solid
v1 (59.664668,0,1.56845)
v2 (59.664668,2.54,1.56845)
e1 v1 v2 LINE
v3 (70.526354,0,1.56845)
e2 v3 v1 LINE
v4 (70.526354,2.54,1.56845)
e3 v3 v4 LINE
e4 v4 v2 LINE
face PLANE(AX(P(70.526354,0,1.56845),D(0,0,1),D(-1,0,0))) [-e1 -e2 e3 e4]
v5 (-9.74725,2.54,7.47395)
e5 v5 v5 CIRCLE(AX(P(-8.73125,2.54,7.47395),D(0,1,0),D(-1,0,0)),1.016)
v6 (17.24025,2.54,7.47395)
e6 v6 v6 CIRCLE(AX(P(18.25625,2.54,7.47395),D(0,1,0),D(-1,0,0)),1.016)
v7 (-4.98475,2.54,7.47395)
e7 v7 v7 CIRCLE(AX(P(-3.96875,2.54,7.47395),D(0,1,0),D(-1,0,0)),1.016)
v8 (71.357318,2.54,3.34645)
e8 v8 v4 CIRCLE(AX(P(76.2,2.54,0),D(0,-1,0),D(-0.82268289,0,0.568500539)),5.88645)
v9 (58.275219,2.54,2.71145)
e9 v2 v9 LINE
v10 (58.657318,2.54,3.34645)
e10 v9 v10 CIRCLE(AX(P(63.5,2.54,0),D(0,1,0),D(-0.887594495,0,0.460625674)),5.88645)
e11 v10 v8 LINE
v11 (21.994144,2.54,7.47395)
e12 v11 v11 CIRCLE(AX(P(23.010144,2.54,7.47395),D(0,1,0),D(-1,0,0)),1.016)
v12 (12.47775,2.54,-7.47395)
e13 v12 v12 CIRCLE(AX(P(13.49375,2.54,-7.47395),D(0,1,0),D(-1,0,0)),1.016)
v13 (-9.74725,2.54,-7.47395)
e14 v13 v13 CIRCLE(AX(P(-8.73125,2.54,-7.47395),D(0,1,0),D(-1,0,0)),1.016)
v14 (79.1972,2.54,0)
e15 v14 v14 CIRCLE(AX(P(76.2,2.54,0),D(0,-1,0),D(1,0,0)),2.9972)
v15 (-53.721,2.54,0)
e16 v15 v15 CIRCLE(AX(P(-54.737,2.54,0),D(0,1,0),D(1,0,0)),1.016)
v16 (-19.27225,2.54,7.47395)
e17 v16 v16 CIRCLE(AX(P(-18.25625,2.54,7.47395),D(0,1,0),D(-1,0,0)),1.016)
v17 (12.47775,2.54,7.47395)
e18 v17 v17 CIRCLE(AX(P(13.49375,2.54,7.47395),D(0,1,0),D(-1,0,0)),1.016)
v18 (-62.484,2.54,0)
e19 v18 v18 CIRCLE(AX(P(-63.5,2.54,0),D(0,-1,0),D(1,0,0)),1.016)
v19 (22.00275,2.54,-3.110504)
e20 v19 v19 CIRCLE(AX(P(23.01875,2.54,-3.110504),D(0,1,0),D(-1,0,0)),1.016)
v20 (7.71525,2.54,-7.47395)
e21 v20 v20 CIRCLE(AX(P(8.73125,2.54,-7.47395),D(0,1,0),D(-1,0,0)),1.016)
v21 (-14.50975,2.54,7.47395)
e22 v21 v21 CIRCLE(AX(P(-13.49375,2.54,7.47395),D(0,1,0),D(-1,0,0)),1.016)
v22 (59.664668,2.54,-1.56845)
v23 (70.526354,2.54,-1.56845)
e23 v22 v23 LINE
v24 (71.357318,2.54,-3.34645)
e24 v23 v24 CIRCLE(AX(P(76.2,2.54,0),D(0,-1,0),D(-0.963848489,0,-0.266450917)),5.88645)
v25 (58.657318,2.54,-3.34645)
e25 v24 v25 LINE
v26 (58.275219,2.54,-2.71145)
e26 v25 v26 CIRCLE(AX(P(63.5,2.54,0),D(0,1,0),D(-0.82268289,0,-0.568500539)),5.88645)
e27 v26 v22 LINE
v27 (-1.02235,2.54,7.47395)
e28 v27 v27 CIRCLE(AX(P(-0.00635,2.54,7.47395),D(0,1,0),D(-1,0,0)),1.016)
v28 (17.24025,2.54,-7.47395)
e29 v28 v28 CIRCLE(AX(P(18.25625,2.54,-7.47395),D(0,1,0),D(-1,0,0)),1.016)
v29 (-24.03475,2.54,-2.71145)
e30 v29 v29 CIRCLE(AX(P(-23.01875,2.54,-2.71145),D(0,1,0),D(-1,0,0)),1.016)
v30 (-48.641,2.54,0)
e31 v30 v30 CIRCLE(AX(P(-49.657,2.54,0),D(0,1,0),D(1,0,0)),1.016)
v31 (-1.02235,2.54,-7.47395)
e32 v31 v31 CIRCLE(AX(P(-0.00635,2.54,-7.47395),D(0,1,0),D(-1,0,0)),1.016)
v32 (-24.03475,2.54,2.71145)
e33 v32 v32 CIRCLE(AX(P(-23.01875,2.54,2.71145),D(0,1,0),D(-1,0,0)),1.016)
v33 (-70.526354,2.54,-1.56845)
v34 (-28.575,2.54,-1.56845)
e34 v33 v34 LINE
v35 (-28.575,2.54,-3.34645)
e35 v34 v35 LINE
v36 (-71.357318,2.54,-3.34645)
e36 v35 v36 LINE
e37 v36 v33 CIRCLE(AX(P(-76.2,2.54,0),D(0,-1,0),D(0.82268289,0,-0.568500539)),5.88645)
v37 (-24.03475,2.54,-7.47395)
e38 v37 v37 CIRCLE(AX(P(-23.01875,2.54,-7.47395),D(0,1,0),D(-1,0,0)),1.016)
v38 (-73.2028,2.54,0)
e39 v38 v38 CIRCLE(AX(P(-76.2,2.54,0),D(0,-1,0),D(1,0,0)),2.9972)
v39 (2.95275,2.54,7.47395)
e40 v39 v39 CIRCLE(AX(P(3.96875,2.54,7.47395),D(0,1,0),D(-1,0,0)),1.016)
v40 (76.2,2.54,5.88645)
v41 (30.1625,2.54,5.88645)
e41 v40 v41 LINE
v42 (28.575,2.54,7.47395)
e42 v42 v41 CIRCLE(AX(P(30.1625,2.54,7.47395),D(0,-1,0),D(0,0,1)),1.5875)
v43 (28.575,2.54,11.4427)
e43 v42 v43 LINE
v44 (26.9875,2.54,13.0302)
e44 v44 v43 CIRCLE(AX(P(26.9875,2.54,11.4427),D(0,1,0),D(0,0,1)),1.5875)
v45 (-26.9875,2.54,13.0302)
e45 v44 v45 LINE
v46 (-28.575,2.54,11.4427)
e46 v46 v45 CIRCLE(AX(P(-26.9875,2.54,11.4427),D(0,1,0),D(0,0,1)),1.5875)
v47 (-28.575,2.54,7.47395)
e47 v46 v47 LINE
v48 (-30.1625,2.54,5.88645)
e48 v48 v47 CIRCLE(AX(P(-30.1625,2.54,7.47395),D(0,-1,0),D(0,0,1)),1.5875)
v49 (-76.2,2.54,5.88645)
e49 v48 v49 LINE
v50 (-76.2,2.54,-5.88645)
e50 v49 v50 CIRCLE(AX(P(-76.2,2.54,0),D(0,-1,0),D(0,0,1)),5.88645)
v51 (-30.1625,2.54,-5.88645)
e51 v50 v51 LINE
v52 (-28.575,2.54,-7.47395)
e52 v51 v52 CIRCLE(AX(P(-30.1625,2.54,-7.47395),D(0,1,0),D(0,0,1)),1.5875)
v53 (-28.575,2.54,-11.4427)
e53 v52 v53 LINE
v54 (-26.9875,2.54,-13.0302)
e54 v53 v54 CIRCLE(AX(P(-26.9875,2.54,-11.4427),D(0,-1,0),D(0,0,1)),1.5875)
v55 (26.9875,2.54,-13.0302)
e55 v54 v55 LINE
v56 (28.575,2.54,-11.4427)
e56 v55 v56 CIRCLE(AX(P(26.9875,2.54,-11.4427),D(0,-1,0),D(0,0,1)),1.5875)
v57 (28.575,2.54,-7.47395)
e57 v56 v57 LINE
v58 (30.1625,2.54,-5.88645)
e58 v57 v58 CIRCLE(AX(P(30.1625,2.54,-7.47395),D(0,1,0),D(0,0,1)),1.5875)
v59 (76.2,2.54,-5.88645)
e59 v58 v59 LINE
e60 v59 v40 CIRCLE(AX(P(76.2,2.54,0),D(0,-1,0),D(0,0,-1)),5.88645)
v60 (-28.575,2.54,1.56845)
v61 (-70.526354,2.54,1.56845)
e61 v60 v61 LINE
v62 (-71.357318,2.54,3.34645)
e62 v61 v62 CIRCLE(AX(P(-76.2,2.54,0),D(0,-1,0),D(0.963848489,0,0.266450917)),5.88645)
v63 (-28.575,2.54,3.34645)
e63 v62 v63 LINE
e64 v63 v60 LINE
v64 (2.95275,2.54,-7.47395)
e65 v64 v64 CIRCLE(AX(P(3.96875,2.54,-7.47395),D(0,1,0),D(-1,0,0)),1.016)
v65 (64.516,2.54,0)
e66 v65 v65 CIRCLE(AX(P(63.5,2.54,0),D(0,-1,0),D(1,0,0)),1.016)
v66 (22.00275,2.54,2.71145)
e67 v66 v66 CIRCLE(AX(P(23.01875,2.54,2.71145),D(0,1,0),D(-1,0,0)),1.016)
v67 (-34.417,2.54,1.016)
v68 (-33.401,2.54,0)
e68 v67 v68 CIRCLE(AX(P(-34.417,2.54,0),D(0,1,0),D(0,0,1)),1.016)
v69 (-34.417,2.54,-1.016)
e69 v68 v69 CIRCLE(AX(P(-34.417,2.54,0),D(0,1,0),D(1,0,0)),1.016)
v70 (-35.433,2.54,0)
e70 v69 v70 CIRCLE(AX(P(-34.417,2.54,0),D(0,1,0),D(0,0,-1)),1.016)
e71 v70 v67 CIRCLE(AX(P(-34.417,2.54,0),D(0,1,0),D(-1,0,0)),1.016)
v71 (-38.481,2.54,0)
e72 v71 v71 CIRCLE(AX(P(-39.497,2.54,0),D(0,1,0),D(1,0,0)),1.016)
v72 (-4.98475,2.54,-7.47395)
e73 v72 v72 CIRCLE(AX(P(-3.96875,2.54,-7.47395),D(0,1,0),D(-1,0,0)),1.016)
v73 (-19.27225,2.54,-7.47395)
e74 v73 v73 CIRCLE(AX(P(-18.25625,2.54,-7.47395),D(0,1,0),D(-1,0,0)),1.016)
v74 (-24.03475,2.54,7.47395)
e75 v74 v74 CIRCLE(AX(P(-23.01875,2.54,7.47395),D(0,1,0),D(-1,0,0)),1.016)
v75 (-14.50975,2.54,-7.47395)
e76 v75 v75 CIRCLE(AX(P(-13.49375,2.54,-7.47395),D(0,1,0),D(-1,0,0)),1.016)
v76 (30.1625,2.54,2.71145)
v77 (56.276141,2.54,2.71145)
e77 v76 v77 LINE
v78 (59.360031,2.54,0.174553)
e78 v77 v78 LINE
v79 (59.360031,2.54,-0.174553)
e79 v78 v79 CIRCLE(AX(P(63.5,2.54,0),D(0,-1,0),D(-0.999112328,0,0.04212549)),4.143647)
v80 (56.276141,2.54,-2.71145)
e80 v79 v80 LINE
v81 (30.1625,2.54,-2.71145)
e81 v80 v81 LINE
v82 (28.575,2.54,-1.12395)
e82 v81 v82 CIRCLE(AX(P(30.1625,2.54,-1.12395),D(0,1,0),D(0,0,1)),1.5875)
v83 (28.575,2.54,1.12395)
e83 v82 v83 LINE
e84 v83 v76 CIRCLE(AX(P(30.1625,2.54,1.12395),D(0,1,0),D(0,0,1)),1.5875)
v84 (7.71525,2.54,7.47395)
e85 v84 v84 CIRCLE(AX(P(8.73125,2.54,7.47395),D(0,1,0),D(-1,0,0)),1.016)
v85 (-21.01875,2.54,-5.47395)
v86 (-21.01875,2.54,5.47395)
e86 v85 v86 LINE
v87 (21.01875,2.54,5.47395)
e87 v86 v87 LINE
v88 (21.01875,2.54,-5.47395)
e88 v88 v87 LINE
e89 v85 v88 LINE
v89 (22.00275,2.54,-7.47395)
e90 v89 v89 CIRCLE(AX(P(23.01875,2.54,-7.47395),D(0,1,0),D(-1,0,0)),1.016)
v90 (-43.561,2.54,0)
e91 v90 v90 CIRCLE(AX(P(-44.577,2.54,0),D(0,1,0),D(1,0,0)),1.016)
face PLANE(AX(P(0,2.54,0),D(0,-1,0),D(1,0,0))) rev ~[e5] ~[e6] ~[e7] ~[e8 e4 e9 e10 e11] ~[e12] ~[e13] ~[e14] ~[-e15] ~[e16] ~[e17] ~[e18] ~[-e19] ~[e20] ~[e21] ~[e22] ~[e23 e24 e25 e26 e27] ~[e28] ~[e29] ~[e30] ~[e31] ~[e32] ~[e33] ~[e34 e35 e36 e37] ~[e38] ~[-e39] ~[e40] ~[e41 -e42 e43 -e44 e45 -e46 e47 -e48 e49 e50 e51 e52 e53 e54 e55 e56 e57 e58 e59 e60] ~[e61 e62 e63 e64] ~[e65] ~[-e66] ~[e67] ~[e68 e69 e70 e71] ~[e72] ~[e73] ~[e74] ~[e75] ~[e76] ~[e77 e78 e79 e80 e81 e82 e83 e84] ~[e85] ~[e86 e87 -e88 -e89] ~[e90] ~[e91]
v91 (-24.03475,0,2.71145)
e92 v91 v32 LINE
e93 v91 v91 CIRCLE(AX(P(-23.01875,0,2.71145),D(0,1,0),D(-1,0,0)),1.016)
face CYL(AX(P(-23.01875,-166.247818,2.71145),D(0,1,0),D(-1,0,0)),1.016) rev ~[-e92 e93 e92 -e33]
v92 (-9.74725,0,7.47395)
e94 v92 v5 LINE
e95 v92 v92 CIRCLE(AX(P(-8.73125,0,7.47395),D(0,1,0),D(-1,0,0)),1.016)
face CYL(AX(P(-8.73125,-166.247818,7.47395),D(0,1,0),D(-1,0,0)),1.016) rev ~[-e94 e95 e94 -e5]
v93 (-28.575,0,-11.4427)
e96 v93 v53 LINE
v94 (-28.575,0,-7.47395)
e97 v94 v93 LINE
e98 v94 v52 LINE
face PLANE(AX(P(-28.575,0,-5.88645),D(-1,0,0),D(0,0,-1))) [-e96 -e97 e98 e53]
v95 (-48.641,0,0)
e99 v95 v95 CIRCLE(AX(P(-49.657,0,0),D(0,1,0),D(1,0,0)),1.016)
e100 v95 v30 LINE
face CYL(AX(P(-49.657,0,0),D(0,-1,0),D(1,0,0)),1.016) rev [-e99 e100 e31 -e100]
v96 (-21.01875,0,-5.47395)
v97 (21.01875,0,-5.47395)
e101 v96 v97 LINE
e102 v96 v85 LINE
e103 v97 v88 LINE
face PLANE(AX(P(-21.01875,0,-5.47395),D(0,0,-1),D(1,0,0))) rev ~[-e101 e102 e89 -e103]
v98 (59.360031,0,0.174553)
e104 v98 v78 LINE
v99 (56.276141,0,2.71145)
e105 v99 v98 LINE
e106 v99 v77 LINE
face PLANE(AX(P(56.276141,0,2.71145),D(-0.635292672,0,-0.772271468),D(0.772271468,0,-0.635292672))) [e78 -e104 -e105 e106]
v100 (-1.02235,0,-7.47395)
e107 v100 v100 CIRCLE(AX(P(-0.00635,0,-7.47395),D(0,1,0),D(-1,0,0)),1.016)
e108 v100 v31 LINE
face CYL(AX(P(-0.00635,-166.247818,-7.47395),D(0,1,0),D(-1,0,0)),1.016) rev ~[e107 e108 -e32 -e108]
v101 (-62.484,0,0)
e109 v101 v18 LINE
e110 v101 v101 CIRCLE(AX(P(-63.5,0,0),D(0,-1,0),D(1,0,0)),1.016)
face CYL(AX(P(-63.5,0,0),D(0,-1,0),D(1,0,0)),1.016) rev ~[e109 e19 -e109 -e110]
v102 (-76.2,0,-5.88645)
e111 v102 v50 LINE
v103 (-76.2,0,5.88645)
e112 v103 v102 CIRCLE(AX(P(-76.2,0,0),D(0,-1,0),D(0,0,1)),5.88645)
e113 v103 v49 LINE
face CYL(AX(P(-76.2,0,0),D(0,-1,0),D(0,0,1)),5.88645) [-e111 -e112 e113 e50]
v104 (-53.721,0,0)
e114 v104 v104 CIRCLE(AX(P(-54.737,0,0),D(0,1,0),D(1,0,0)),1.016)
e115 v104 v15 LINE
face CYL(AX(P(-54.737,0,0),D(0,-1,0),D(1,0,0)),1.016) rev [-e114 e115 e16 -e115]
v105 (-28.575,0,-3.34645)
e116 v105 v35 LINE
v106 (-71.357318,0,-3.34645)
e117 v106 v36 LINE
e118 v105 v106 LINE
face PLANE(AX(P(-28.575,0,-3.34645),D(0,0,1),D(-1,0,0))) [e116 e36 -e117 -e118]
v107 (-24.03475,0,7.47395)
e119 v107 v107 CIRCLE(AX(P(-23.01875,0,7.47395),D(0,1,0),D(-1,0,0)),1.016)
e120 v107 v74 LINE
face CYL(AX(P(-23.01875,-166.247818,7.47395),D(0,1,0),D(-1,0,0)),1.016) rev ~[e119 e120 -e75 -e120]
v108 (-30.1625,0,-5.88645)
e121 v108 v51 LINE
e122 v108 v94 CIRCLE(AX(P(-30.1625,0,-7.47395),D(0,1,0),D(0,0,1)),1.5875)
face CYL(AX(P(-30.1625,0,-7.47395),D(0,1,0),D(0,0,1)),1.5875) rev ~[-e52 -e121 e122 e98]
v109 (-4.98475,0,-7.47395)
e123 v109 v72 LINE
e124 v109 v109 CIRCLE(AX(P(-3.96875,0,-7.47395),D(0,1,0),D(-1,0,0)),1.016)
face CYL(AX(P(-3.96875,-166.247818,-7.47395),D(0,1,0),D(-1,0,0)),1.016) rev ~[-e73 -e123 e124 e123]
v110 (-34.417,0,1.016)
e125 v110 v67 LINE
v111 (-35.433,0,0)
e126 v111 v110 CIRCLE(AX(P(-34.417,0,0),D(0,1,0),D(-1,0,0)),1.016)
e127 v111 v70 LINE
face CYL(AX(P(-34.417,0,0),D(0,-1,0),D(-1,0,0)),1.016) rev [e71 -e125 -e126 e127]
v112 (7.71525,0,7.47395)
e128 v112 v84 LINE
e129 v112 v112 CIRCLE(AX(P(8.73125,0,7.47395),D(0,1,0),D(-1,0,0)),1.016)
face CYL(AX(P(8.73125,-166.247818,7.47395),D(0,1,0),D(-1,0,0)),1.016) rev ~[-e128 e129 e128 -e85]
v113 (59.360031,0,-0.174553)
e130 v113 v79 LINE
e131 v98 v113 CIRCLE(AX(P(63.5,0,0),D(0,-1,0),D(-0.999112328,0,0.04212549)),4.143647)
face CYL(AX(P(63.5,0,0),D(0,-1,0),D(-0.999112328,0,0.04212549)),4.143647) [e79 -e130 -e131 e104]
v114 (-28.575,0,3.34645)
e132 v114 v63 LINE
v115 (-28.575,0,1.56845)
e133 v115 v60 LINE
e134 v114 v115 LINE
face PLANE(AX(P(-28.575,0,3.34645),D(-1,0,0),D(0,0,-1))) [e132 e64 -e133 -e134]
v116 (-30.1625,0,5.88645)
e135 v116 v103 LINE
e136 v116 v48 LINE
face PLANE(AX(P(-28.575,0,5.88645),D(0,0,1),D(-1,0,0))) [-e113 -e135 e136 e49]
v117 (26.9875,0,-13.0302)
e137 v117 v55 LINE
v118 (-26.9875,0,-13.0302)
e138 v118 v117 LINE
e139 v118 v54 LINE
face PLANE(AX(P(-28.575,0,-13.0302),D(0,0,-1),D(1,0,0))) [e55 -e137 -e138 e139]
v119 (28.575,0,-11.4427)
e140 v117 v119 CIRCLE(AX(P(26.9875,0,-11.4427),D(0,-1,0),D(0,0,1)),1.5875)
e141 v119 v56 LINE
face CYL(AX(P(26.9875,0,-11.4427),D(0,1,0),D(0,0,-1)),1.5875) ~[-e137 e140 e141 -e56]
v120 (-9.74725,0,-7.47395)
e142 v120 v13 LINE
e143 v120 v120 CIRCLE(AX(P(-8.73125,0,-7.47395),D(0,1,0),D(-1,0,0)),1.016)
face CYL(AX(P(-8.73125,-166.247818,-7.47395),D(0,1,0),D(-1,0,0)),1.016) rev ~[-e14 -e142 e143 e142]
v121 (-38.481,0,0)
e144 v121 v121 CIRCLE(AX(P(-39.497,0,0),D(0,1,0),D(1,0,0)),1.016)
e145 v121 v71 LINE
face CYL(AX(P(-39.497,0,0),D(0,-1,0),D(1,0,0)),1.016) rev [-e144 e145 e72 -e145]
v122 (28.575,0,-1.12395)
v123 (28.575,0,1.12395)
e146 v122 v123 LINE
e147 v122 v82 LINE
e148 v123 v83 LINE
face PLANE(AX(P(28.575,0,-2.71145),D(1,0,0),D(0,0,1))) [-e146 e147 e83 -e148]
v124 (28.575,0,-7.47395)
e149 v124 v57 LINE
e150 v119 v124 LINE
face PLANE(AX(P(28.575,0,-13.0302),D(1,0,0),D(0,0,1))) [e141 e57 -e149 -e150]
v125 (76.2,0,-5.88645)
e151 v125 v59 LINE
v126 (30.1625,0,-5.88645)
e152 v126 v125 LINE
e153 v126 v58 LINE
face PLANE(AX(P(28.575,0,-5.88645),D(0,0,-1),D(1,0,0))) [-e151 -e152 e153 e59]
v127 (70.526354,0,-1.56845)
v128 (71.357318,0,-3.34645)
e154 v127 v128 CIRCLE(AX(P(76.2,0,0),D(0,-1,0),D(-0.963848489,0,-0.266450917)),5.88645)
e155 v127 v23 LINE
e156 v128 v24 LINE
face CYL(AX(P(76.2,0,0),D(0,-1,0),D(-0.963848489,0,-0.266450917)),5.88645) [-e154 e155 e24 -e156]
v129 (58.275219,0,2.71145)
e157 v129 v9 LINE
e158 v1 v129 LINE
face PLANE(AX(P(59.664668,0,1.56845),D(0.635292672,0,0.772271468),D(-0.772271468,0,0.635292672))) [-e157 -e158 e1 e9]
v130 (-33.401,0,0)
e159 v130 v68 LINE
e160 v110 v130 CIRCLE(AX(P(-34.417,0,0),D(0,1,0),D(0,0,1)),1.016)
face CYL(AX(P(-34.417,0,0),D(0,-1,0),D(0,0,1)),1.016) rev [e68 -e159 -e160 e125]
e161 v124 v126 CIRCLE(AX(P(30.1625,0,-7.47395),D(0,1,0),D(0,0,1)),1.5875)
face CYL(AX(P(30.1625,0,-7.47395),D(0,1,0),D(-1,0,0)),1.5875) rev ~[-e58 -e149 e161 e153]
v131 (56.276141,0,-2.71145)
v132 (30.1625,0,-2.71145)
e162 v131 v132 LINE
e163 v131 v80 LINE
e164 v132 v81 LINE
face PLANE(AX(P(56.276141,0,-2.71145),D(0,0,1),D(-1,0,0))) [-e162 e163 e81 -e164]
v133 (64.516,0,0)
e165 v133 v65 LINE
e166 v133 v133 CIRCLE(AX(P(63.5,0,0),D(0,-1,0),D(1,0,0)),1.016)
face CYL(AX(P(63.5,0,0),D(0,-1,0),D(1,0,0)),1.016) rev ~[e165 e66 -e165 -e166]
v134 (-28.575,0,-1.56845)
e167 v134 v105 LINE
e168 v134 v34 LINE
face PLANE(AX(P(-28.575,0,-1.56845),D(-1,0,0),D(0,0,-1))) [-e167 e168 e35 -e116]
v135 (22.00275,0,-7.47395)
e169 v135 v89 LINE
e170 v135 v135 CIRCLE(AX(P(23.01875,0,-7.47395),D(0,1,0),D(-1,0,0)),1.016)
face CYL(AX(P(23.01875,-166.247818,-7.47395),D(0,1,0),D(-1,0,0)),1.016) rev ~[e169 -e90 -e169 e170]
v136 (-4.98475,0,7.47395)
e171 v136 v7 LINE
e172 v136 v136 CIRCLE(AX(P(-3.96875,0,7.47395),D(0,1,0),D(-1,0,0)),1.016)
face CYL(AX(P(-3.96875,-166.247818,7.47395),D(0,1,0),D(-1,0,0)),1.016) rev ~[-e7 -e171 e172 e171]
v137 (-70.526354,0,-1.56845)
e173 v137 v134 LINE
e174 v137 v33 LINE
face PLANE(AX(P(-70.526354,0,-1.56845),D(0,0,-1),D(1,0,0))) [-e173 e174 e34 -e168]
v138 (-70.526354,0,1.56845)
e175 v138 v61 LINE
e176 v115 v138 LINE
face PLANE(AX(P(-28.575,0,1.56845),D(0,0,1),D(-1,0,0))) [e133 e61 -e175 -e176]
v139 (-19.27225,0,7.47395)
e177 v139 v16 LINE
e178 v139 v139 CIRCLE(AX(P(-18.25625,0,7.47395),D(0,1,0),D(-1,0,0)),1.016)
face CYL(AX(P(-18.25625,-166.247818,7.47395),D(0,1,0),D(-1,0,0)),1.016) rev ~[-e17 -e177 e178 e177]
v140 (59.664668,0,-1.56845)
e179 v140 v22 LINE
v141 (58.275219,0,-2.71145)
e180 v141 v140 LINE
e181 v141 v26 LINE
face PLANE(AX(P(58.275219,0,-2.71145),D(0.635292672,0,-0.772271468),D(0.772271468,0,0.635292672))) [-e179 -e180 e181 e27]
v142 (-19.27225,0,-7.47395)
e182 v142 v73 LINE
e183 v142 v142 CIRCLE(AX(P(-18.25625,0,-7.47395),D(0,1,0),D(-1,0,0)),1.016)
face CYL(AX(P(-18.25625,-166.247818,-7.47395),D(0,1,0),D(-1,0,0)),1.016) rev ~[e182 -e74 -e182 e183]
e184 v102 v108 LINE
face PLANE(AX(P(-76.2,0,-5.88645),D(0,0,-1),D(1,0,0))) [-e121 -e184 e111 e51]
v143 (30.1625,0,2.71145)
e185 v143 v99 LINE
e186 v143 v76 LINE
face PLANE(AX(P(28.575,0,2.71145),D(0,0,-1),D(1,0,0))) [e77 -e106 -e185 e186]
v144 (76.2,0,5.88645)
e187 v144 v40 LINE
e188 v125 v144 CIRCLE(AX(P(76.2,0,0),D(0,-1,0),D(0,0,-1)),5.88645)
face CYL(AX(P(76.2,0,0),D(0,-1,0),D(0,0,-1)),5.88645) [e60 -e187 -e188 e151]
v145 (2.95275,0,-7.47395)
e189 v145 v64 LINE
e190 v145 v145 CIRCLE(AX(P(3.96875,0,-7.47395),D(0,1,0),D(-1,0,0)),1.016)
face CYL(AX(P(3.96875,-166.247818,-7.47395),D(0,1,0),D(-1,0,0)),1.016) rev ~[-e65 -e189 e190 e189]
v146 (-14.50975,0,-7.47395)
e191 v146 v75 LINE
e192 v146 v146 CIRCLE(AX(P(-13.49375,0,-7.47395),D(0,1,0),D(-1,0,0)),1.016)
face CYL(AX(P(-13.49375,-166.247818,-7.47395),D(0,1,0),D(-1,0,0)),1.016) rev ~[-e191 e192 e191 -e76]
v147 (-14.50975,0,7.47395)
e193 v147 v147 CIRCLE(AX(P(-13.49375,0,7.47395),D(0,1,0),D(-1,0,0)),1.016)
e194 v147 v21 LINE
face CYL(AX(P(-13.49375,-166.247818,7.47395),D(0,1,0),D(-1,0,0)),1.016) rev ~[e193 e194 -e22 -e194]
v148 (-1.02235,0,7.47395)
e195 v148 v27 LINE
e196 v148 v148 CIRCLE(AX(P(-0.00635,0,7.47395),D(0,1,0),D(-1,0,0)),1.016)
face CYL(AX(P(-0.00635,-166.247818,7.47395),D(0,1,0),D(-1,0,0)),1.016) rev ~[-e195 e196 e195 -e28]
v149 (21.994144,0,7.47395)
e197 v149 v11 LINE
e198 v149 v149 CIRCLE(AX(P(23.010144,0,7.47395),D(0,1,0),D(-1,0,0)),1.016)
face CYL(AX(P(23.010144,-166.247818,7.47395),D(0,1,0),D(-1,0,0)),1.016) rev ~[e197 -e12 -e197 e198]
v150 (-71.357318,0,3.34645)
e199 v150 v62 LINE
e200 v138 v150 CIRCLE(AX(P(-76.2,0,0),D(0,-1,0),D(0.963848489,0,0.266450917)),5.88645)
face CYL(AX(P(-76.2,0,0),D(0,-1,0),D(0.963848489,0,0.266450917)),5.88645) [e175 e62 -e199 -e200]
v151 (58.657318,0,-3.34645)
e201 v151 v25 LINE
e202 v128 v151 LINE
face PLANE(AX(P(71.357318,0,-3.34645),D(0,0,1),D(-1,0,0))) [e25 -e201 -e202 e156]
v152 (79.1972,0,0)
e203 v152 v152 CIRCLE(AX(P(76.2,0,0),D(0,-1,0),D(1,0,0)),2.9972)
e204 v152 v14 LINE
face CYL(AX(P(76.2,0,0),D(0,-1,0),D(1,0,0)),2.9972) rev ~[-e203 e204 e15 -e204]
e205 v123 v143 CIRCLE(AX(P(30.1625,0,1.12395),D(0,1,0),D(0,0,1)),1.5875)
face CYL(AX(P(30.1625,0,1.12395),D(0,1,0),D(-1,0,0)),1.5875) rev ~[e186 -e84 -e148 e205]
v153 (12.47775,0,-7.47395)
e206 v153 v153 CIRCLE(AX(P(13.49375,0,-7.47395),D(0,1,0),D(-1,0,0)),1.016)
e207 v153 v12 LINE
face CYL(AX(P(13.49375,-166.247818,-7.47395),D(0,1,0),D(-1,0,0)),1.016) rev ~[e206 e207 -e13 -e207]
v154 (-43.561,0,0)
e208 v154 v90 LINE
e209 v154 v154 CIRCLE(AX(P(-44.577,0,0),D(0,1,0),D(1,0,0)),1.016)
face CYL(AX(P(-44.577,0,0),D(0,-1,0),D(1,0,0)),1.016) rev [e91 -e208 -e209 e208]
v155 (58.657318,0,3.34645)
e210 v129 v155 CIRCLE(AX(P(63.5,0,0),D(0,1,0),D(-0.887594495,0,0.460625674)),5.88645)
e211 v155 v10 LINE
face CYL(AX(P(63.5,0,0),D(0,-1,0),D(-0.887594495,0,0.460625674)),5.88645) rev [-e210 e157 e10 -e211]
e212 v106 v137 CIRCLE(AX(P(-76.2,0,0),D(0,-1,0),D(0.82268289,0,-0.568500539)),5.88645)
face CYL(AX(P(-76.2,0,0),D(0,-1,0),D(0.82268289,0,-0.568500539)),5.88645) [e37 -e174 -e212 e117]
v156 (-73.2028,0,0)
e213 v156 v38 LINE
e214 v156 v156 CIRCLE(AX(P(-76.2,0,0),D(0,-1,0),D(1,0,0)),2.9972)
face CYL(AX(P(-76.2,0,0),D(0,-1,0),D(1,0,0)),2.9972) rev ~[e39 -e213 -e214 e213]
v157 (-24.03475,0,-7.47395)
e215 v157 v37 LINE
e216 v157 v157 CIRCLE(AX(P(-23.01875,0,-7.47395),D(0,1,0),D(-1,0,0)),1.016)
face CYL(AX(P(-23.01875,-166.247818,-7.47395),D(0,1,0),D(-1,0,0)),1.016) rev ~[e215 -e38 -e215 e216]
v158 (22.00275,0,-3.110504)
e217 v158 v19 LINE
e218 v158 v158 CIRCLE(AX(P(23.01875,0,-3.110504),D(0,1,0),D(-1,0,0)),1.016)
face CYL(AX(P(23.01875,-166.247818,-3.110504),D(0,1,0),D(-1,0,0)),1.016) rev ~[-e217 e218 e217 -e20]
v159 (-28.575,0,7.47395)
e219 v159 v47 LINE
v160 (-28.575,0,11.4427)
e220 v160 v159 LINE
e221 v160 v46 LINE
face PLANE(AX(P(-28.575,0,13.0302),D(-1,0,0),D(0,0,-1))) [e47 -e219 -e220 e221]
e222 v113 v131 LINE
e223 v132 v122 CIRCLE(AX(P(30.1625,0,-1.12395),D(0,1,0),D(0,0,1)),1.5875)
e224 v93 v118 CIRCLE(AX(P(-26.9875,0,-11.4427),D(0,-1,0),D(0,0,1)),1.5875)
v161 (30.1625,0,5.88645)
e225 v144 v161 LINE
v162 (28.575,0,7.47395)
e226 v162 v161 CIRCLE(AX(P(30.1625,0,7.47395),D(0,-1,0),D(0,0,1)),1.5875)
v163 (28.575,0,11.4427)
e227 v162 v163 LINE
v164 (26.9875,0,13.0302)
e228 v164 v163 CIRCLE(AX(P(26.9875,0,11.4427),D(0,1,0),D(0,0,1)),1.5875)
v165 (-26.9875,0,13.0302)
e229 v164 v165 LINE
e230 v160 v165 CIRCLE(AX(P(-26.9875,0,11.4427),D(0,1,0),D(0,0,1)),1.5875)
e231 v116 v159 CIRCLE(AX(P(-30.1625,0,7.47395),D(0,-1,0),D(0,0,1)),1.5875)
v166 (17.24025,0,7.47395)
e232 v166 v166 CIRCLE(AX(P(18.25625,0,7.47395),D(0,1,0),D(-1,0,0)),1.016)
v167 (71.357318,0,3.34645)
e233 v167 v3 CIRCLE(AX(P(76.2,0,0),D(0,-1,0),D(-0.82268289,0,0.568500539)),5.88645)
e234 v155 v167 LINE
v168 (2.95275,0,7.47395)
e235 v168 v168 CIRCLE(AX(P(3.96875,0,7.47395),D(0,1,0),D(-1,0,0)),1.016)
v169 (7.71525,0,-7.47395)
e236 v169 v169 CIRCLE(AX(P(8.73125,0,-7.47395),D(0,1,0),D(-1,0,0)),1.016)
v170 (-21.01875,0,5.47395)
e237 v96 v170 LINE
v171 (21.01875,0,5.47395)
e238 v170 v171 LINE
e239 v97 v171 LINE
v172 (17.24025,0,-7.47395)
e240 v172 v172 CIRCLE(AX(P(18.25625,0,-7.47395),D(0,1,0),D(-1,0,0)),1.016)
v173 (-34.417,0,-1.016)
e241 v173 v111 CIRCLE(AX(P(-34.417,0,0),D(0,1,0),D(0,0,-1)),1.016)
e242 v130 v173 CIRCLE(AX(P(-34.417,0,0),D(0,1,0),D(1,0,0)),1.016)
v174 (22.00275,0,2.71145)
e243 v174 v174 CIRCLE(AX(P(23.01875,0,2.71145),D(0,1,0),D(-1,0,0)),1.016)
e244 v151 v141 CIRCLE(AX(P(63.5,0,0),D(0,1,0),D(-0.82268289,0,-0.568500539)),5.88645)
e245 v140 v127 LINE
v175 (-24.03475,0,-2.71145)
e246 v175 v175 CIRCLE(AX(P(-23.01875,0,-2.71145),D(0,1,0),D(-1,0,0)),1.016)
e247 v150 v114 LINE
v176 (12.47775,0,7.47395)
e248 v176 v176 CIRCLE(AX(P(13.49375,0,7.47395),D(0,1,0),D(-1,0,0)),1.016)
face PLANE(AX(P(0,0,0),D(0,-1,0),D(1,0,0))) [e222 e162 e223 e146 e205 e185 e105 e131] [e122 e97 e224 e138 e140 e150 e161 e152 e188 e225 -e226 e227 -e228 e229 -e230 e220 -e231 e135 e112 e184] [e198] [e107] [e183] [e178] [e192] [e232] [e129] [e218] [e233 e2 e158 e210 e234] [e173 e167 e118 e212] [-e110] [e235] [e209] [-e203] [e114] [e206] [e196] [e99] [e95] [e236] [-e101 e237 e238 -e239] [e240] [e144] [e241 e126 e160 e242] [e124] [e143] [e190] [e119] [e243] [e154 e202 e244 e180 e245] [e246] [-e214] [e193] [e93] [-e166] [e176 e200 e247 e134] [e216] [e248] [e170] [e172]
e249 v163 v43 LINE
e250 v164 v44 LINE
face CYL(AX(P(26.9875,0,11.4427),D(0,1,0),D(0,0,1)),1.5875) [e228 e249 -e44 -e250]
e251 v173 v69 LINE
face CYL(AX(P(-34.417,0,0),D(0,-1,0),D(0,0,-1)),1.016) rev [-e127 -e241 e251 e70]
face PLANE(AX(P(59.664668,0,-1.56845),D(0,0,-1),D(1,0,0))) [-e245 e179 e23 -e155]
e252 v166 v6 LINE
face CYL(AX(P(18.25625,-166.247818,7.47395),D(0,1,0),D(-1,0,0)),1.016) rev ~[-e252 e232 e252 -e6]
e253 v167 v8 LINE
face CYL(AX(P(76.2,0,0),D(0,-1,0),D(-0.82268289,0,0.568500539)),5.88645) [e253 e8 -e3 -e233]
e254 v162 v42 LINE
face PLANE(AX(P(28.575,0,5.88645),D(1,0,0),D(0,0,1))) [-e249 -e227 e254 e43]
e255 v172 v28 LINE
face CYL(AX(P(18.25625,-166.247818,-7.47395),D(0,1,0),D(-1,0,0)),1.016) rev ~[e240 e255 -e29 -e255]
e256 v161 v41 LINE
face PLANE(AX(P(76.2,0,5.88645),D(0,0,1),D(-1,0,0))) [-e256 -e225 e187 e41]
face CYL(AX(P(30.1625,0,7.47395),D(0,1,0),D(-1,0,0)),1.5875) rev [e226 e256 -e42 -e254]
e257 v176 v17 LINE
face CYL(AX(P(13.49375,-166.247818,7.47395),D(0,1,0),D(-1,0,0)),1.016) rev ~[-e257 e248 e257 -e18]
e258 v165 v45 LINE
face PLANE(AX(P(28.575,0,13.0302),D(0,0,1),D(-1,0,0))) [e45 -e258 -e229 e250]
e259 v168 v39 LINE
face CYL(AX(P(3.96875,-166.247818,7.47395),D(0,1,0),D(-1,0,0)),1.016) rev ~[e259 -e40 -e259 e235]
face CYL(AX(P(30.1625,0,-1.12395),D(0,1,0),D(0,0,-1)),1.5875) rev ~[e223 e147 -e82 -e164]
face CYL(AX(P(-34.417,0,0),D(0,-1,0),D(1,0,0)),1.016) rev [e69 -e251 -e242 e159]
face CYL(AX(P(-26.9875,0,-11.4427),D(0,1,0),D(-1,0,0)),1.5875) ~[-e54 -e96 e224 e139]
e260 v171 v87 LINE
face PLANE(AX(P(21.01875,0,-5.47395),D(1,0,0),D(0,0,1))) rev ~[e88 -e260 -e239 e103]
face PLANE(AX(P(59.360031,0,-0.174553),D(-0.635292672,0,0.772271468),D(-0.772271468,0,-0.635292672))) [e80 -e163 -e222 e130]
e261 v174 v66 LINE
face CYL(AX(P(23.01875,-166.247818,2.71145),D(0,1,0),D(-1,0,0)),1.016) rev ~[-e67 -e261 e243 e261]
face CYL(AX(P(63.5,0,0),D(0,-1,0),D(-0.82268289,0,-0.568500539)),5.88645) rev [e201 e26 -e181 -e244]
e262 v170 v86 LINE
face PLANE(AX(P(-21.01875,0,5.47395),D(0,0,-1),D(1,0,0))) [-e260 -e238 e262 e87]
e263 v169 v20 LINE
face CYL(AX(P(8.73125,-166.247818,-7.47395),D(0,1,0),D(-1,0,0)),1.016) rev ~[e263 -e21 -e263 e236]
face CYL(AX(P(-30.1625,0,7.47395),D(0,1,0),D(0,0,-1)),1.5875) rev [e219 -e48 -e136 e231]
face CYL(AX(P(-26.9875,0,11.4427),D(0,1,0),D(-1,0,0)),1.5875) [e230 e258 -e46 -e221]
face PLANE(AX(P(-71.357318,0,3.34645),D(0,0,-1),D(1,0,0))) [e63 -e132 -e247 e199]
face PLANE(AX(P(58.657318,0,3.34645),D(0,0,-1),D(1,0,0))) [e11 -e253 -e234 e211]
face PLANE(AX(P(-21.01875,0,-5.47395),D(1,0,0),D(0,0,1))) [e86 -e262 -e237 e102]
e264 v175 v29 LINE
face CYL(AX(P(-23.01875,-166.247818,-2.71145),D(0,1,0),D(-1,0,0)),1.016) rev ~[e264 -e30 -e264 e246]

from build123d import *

# Parameters (mm, degrees)
F0_R     = 2.9972
F0_R_2   = 1.016
F0_W     = 42.0375
F0_H     = 10.9479
F1_DEPTH = 2.54
F3_D     = 2.032
F4_R     = 1.5875


with BuildPart() as f1:
    # F0 (on Front) → F1 (new body)
    with BuildSketch(Plane.XZ):
        with BuildLine():
            ThreePointArc((-76.2, 5.88645), (-82.08645, 0), (-76.2, -5.88645))
            Line((-76.2, -5.88645), (-28.575, -5.88645))
            Line((-28.575, -5.88645), (-28.575, -13.0302))
            Line((-28.575, -13.0302), (28.575, -13.0302))
            Line((28.575, -13.0302), (28.575, -5.88645))
            Line((28.575, -5.88645), (76.2, -5.88645))
            ThreePointArc((76.2, -5.88645), (82.08645, 0), (76.2, 5.88645))
            Line((76.2, 5.88645), (28.575, 5.88645))
            Line((28.575, 5.88645), (28.575, 13.0302))
            Line((28.575, 13.0302), (-28.575, 13.0302))
            Line((-28.575, 13.0302), (-28.575, 5.88645))
            Line((-28.575, 5.88645), (-76.2, 5.88645))
        make_face()
        with Locations((-76.2, 0)):
            Circle(F0_R, mode=Mode.SUBTRACT)
        with Locations((-63.5, 0)):
            Circle(F0_R_2, mode=Mode.SUBTRACT)
        with BuildLine():
            Line((-70.5263540646, -1.56845), (-34.417, -1.56845))
            Line((-34.417, -1.56845), (-28.575, -1.56845))
            Line((-28.575, -1.56845), (-28.575, -3.34645))
            Line((-28.575, -3.34645), (-71.3573183049, -3.34645))
            ThreePointArc((-71.3573183049, -3.34645), (-70.8672138888, -2.492325399), (-70.5263540646, -1.56845))
        make_face(mode=Mode.SUBTRACT)
        with BuildLine():
            ThreePointArc((-55.753, 0), (-54.737, 1.016), (-53.721, 0))
            ThreePointArc((-53.721, 0), (-54.737, -1.016), (-55.753, 0))
        make_face(mode=Mode.SUBTRACT)
        with BuildLine():
            ThreePointArc((-50.673, 0), (-49.657, 1.016), (-48.641, 0))
            ThreePointArc((-48.641, 0), (-49.657, -1.016), (-50.673, 0))
        make_face(mode=Mode.SUBTRACT)
        with BuildLine():
            ThreePointArc((-45.593, 0), (-44.577, 1.016), (-43.561, 0))
            ThreePointArc((-43.561, 0), (-44.577, -1.016), (-45.593, 0))
        make_face(mode=Mode.SUBTRACT)
        with BuildLine():
            ThreePointArc((-40.513, 0), (-39.497, 1.016), (-38.481, 0))
            ThreePointArc((-38.481, 0), (-39.497, -1.016), (-40.513, 0))
        make_face(mode=Mode.SUBTRACT)
        with BuildLine():
            ThreePointArc((-35.433, 0), (-35.1354204897, 0.7184204897), (-34.417, 1.016))
            ThreePointArc((-34.417, 1.016), (-33.6985795103, 0.7184204897), (-33.401, 0))
            ThreePointArc((-33.401, 0), (-33.6985795103, -0.7184204897), (-34.417, -1.016))
            ThreePointArc((-34.417, -1.016), (-35.1354204897, -0.7184204897), (-35.433, 0))
        make_face(mode=Mode.SUBTRACT)
        Rectangle(F0_W, F0_H, mode=Mode.SUBTRACT)
        with BuildLine():
            Line((28.575, -2.71145), (28.575, 2.71145))
            Line((28.575, 2.71145), (56.2761407595, 2.71145))
            Line((56.2761407595, 2.71145), (59.3600312801, 0.1745531584))
            ThreePointArc((59.3600312801, 0.1745531584), (59.3563530789, 0), (59.3600312801, -0.1745531584))
            Line((59.3600312801, -0.1745531584), (56.2761407595, -2.71145))
            Line((56.2761407595, -2.71145), (28.575, -2.71145))
        make_face(mode=Mode.SUBTRACT)
        with BuildLine():
            Line((58.2752193826, -2.71145), (59.6646676279, -1.56845))
            Line((59.6646676279, -1.56845), (70.5263540646, -1.56845))
            ThreePointArc((70.5263540646, -1.56845), (70.8672138888, -2.492325399), (71.3573183049, -3.34645))
            Line((71.3573183049, -3.34645), (58.6573183049, -3.34645))
            ThreePointArc((58.6573183049, -3.34645), (58.4562657085, -3.0349691924), (58.2752193826, -2.71145))
        make_face(mode=Mode.SUBTRACT)
        with Locations((63.5, 0)):
            Circle(F0_R_2, mode=Mode.SUBTRACT)
        with Locations((76.2, 0)):
            Circle(F0_R, mode=Mode.SUBTRACT)
        with BuildLine():
            Line((-28.575, 1.56845), (-34.417, 1.56845))
            Line((-34.417, 1.56845), (-70.5263540646, 1.56845))
            ThreePointArc((-70.5263540646, 1.56845), (-70.8672138888, 2.492325399), (-71.3573183049, 3.34645))
            Line((-71.3573183049, 3.34645), (-28.575, 3.34645))
            Line((-28.575, 3.34645), (-28.575, 1.56845))
        make_face(mode=Mode.SUBTRACT)
        with BuildLine():
            ThreePointArc((58.2752193826, 2.71145), (58.4562657085, 3.0349691924), (58.6573183049, 3.34645))
            Line((58.6573183049, 3.34645), (71.3573183049, 3.34645))
            ThreePointArc((71.3573183049, 3.34645), (70.8672138888, 2.492325399), (70.5263540646, 1.56845))
            Line((70.5263540646, 1.56845), (59.6646676279, 1.56845))
            Line((59.6646676279, 1.56845), (58.2752193826, 2.71145))
        make_face(mode=Mode.SUBTRACT)
    extrude(amount=-F1_DEPTH)

    # F3 (through all)
    with Locations(Plane.XZ):
        with Locations((-23.01875, 7.47395), (-18.25625, 7.47395), (-13.49375, 7.47395), (-8.73125, 7.47395), (-3.96875, 7.47395), (-0.00635, 7.47395), (3.96875, 7.47395), (8.73125, 7.47395), (13.49375, 7.47395), (18.25625, 7.47395), (23.0101440102, 7.47395), (23.01875, -3.1105038886), (23.01875, -7.47395), (23.01875, 2.71145), (18.25625, -7.47395), (13.49375, -7.47395), (8.73125, -7.47395), (3.96875, -7.47395), (-0.00635, -7.47395), (-3.96875, -7.47395), (-8.73125, -7.47395), (-13.49375, -7.47395), (-18.25625, -7.47395), (-23.01875, -7.47395), (-23.01875, -2.71145), (-23.01875, 2.71145)):
            Hole(F3_D / 2)

    # F4
    f4_edges = [f1.edges().sort_by_distance(p)[0] for p in [
        (-34.417, 1.27, 1.016),
        (-28.575, 1.27, 13.0302),
        (-28.575, 1.27, 5.88645),
        (-28.575, 1.27, -13.0302),
        (-28.575, 1.27, -5.88645),
        (28.575, 1.27, 2.71145),
        (28.575, 1.27, 13.0302),
        (28.575, 1.27, -5.88645),
        (28.575, 1.27, -13.0302),
        (28.575, 1.27, 5.88645),
        (28.575, 1.27, -2.71145),
    ]]
    fillet(f4_edges, radius=F4_R)


solid = f1.part
